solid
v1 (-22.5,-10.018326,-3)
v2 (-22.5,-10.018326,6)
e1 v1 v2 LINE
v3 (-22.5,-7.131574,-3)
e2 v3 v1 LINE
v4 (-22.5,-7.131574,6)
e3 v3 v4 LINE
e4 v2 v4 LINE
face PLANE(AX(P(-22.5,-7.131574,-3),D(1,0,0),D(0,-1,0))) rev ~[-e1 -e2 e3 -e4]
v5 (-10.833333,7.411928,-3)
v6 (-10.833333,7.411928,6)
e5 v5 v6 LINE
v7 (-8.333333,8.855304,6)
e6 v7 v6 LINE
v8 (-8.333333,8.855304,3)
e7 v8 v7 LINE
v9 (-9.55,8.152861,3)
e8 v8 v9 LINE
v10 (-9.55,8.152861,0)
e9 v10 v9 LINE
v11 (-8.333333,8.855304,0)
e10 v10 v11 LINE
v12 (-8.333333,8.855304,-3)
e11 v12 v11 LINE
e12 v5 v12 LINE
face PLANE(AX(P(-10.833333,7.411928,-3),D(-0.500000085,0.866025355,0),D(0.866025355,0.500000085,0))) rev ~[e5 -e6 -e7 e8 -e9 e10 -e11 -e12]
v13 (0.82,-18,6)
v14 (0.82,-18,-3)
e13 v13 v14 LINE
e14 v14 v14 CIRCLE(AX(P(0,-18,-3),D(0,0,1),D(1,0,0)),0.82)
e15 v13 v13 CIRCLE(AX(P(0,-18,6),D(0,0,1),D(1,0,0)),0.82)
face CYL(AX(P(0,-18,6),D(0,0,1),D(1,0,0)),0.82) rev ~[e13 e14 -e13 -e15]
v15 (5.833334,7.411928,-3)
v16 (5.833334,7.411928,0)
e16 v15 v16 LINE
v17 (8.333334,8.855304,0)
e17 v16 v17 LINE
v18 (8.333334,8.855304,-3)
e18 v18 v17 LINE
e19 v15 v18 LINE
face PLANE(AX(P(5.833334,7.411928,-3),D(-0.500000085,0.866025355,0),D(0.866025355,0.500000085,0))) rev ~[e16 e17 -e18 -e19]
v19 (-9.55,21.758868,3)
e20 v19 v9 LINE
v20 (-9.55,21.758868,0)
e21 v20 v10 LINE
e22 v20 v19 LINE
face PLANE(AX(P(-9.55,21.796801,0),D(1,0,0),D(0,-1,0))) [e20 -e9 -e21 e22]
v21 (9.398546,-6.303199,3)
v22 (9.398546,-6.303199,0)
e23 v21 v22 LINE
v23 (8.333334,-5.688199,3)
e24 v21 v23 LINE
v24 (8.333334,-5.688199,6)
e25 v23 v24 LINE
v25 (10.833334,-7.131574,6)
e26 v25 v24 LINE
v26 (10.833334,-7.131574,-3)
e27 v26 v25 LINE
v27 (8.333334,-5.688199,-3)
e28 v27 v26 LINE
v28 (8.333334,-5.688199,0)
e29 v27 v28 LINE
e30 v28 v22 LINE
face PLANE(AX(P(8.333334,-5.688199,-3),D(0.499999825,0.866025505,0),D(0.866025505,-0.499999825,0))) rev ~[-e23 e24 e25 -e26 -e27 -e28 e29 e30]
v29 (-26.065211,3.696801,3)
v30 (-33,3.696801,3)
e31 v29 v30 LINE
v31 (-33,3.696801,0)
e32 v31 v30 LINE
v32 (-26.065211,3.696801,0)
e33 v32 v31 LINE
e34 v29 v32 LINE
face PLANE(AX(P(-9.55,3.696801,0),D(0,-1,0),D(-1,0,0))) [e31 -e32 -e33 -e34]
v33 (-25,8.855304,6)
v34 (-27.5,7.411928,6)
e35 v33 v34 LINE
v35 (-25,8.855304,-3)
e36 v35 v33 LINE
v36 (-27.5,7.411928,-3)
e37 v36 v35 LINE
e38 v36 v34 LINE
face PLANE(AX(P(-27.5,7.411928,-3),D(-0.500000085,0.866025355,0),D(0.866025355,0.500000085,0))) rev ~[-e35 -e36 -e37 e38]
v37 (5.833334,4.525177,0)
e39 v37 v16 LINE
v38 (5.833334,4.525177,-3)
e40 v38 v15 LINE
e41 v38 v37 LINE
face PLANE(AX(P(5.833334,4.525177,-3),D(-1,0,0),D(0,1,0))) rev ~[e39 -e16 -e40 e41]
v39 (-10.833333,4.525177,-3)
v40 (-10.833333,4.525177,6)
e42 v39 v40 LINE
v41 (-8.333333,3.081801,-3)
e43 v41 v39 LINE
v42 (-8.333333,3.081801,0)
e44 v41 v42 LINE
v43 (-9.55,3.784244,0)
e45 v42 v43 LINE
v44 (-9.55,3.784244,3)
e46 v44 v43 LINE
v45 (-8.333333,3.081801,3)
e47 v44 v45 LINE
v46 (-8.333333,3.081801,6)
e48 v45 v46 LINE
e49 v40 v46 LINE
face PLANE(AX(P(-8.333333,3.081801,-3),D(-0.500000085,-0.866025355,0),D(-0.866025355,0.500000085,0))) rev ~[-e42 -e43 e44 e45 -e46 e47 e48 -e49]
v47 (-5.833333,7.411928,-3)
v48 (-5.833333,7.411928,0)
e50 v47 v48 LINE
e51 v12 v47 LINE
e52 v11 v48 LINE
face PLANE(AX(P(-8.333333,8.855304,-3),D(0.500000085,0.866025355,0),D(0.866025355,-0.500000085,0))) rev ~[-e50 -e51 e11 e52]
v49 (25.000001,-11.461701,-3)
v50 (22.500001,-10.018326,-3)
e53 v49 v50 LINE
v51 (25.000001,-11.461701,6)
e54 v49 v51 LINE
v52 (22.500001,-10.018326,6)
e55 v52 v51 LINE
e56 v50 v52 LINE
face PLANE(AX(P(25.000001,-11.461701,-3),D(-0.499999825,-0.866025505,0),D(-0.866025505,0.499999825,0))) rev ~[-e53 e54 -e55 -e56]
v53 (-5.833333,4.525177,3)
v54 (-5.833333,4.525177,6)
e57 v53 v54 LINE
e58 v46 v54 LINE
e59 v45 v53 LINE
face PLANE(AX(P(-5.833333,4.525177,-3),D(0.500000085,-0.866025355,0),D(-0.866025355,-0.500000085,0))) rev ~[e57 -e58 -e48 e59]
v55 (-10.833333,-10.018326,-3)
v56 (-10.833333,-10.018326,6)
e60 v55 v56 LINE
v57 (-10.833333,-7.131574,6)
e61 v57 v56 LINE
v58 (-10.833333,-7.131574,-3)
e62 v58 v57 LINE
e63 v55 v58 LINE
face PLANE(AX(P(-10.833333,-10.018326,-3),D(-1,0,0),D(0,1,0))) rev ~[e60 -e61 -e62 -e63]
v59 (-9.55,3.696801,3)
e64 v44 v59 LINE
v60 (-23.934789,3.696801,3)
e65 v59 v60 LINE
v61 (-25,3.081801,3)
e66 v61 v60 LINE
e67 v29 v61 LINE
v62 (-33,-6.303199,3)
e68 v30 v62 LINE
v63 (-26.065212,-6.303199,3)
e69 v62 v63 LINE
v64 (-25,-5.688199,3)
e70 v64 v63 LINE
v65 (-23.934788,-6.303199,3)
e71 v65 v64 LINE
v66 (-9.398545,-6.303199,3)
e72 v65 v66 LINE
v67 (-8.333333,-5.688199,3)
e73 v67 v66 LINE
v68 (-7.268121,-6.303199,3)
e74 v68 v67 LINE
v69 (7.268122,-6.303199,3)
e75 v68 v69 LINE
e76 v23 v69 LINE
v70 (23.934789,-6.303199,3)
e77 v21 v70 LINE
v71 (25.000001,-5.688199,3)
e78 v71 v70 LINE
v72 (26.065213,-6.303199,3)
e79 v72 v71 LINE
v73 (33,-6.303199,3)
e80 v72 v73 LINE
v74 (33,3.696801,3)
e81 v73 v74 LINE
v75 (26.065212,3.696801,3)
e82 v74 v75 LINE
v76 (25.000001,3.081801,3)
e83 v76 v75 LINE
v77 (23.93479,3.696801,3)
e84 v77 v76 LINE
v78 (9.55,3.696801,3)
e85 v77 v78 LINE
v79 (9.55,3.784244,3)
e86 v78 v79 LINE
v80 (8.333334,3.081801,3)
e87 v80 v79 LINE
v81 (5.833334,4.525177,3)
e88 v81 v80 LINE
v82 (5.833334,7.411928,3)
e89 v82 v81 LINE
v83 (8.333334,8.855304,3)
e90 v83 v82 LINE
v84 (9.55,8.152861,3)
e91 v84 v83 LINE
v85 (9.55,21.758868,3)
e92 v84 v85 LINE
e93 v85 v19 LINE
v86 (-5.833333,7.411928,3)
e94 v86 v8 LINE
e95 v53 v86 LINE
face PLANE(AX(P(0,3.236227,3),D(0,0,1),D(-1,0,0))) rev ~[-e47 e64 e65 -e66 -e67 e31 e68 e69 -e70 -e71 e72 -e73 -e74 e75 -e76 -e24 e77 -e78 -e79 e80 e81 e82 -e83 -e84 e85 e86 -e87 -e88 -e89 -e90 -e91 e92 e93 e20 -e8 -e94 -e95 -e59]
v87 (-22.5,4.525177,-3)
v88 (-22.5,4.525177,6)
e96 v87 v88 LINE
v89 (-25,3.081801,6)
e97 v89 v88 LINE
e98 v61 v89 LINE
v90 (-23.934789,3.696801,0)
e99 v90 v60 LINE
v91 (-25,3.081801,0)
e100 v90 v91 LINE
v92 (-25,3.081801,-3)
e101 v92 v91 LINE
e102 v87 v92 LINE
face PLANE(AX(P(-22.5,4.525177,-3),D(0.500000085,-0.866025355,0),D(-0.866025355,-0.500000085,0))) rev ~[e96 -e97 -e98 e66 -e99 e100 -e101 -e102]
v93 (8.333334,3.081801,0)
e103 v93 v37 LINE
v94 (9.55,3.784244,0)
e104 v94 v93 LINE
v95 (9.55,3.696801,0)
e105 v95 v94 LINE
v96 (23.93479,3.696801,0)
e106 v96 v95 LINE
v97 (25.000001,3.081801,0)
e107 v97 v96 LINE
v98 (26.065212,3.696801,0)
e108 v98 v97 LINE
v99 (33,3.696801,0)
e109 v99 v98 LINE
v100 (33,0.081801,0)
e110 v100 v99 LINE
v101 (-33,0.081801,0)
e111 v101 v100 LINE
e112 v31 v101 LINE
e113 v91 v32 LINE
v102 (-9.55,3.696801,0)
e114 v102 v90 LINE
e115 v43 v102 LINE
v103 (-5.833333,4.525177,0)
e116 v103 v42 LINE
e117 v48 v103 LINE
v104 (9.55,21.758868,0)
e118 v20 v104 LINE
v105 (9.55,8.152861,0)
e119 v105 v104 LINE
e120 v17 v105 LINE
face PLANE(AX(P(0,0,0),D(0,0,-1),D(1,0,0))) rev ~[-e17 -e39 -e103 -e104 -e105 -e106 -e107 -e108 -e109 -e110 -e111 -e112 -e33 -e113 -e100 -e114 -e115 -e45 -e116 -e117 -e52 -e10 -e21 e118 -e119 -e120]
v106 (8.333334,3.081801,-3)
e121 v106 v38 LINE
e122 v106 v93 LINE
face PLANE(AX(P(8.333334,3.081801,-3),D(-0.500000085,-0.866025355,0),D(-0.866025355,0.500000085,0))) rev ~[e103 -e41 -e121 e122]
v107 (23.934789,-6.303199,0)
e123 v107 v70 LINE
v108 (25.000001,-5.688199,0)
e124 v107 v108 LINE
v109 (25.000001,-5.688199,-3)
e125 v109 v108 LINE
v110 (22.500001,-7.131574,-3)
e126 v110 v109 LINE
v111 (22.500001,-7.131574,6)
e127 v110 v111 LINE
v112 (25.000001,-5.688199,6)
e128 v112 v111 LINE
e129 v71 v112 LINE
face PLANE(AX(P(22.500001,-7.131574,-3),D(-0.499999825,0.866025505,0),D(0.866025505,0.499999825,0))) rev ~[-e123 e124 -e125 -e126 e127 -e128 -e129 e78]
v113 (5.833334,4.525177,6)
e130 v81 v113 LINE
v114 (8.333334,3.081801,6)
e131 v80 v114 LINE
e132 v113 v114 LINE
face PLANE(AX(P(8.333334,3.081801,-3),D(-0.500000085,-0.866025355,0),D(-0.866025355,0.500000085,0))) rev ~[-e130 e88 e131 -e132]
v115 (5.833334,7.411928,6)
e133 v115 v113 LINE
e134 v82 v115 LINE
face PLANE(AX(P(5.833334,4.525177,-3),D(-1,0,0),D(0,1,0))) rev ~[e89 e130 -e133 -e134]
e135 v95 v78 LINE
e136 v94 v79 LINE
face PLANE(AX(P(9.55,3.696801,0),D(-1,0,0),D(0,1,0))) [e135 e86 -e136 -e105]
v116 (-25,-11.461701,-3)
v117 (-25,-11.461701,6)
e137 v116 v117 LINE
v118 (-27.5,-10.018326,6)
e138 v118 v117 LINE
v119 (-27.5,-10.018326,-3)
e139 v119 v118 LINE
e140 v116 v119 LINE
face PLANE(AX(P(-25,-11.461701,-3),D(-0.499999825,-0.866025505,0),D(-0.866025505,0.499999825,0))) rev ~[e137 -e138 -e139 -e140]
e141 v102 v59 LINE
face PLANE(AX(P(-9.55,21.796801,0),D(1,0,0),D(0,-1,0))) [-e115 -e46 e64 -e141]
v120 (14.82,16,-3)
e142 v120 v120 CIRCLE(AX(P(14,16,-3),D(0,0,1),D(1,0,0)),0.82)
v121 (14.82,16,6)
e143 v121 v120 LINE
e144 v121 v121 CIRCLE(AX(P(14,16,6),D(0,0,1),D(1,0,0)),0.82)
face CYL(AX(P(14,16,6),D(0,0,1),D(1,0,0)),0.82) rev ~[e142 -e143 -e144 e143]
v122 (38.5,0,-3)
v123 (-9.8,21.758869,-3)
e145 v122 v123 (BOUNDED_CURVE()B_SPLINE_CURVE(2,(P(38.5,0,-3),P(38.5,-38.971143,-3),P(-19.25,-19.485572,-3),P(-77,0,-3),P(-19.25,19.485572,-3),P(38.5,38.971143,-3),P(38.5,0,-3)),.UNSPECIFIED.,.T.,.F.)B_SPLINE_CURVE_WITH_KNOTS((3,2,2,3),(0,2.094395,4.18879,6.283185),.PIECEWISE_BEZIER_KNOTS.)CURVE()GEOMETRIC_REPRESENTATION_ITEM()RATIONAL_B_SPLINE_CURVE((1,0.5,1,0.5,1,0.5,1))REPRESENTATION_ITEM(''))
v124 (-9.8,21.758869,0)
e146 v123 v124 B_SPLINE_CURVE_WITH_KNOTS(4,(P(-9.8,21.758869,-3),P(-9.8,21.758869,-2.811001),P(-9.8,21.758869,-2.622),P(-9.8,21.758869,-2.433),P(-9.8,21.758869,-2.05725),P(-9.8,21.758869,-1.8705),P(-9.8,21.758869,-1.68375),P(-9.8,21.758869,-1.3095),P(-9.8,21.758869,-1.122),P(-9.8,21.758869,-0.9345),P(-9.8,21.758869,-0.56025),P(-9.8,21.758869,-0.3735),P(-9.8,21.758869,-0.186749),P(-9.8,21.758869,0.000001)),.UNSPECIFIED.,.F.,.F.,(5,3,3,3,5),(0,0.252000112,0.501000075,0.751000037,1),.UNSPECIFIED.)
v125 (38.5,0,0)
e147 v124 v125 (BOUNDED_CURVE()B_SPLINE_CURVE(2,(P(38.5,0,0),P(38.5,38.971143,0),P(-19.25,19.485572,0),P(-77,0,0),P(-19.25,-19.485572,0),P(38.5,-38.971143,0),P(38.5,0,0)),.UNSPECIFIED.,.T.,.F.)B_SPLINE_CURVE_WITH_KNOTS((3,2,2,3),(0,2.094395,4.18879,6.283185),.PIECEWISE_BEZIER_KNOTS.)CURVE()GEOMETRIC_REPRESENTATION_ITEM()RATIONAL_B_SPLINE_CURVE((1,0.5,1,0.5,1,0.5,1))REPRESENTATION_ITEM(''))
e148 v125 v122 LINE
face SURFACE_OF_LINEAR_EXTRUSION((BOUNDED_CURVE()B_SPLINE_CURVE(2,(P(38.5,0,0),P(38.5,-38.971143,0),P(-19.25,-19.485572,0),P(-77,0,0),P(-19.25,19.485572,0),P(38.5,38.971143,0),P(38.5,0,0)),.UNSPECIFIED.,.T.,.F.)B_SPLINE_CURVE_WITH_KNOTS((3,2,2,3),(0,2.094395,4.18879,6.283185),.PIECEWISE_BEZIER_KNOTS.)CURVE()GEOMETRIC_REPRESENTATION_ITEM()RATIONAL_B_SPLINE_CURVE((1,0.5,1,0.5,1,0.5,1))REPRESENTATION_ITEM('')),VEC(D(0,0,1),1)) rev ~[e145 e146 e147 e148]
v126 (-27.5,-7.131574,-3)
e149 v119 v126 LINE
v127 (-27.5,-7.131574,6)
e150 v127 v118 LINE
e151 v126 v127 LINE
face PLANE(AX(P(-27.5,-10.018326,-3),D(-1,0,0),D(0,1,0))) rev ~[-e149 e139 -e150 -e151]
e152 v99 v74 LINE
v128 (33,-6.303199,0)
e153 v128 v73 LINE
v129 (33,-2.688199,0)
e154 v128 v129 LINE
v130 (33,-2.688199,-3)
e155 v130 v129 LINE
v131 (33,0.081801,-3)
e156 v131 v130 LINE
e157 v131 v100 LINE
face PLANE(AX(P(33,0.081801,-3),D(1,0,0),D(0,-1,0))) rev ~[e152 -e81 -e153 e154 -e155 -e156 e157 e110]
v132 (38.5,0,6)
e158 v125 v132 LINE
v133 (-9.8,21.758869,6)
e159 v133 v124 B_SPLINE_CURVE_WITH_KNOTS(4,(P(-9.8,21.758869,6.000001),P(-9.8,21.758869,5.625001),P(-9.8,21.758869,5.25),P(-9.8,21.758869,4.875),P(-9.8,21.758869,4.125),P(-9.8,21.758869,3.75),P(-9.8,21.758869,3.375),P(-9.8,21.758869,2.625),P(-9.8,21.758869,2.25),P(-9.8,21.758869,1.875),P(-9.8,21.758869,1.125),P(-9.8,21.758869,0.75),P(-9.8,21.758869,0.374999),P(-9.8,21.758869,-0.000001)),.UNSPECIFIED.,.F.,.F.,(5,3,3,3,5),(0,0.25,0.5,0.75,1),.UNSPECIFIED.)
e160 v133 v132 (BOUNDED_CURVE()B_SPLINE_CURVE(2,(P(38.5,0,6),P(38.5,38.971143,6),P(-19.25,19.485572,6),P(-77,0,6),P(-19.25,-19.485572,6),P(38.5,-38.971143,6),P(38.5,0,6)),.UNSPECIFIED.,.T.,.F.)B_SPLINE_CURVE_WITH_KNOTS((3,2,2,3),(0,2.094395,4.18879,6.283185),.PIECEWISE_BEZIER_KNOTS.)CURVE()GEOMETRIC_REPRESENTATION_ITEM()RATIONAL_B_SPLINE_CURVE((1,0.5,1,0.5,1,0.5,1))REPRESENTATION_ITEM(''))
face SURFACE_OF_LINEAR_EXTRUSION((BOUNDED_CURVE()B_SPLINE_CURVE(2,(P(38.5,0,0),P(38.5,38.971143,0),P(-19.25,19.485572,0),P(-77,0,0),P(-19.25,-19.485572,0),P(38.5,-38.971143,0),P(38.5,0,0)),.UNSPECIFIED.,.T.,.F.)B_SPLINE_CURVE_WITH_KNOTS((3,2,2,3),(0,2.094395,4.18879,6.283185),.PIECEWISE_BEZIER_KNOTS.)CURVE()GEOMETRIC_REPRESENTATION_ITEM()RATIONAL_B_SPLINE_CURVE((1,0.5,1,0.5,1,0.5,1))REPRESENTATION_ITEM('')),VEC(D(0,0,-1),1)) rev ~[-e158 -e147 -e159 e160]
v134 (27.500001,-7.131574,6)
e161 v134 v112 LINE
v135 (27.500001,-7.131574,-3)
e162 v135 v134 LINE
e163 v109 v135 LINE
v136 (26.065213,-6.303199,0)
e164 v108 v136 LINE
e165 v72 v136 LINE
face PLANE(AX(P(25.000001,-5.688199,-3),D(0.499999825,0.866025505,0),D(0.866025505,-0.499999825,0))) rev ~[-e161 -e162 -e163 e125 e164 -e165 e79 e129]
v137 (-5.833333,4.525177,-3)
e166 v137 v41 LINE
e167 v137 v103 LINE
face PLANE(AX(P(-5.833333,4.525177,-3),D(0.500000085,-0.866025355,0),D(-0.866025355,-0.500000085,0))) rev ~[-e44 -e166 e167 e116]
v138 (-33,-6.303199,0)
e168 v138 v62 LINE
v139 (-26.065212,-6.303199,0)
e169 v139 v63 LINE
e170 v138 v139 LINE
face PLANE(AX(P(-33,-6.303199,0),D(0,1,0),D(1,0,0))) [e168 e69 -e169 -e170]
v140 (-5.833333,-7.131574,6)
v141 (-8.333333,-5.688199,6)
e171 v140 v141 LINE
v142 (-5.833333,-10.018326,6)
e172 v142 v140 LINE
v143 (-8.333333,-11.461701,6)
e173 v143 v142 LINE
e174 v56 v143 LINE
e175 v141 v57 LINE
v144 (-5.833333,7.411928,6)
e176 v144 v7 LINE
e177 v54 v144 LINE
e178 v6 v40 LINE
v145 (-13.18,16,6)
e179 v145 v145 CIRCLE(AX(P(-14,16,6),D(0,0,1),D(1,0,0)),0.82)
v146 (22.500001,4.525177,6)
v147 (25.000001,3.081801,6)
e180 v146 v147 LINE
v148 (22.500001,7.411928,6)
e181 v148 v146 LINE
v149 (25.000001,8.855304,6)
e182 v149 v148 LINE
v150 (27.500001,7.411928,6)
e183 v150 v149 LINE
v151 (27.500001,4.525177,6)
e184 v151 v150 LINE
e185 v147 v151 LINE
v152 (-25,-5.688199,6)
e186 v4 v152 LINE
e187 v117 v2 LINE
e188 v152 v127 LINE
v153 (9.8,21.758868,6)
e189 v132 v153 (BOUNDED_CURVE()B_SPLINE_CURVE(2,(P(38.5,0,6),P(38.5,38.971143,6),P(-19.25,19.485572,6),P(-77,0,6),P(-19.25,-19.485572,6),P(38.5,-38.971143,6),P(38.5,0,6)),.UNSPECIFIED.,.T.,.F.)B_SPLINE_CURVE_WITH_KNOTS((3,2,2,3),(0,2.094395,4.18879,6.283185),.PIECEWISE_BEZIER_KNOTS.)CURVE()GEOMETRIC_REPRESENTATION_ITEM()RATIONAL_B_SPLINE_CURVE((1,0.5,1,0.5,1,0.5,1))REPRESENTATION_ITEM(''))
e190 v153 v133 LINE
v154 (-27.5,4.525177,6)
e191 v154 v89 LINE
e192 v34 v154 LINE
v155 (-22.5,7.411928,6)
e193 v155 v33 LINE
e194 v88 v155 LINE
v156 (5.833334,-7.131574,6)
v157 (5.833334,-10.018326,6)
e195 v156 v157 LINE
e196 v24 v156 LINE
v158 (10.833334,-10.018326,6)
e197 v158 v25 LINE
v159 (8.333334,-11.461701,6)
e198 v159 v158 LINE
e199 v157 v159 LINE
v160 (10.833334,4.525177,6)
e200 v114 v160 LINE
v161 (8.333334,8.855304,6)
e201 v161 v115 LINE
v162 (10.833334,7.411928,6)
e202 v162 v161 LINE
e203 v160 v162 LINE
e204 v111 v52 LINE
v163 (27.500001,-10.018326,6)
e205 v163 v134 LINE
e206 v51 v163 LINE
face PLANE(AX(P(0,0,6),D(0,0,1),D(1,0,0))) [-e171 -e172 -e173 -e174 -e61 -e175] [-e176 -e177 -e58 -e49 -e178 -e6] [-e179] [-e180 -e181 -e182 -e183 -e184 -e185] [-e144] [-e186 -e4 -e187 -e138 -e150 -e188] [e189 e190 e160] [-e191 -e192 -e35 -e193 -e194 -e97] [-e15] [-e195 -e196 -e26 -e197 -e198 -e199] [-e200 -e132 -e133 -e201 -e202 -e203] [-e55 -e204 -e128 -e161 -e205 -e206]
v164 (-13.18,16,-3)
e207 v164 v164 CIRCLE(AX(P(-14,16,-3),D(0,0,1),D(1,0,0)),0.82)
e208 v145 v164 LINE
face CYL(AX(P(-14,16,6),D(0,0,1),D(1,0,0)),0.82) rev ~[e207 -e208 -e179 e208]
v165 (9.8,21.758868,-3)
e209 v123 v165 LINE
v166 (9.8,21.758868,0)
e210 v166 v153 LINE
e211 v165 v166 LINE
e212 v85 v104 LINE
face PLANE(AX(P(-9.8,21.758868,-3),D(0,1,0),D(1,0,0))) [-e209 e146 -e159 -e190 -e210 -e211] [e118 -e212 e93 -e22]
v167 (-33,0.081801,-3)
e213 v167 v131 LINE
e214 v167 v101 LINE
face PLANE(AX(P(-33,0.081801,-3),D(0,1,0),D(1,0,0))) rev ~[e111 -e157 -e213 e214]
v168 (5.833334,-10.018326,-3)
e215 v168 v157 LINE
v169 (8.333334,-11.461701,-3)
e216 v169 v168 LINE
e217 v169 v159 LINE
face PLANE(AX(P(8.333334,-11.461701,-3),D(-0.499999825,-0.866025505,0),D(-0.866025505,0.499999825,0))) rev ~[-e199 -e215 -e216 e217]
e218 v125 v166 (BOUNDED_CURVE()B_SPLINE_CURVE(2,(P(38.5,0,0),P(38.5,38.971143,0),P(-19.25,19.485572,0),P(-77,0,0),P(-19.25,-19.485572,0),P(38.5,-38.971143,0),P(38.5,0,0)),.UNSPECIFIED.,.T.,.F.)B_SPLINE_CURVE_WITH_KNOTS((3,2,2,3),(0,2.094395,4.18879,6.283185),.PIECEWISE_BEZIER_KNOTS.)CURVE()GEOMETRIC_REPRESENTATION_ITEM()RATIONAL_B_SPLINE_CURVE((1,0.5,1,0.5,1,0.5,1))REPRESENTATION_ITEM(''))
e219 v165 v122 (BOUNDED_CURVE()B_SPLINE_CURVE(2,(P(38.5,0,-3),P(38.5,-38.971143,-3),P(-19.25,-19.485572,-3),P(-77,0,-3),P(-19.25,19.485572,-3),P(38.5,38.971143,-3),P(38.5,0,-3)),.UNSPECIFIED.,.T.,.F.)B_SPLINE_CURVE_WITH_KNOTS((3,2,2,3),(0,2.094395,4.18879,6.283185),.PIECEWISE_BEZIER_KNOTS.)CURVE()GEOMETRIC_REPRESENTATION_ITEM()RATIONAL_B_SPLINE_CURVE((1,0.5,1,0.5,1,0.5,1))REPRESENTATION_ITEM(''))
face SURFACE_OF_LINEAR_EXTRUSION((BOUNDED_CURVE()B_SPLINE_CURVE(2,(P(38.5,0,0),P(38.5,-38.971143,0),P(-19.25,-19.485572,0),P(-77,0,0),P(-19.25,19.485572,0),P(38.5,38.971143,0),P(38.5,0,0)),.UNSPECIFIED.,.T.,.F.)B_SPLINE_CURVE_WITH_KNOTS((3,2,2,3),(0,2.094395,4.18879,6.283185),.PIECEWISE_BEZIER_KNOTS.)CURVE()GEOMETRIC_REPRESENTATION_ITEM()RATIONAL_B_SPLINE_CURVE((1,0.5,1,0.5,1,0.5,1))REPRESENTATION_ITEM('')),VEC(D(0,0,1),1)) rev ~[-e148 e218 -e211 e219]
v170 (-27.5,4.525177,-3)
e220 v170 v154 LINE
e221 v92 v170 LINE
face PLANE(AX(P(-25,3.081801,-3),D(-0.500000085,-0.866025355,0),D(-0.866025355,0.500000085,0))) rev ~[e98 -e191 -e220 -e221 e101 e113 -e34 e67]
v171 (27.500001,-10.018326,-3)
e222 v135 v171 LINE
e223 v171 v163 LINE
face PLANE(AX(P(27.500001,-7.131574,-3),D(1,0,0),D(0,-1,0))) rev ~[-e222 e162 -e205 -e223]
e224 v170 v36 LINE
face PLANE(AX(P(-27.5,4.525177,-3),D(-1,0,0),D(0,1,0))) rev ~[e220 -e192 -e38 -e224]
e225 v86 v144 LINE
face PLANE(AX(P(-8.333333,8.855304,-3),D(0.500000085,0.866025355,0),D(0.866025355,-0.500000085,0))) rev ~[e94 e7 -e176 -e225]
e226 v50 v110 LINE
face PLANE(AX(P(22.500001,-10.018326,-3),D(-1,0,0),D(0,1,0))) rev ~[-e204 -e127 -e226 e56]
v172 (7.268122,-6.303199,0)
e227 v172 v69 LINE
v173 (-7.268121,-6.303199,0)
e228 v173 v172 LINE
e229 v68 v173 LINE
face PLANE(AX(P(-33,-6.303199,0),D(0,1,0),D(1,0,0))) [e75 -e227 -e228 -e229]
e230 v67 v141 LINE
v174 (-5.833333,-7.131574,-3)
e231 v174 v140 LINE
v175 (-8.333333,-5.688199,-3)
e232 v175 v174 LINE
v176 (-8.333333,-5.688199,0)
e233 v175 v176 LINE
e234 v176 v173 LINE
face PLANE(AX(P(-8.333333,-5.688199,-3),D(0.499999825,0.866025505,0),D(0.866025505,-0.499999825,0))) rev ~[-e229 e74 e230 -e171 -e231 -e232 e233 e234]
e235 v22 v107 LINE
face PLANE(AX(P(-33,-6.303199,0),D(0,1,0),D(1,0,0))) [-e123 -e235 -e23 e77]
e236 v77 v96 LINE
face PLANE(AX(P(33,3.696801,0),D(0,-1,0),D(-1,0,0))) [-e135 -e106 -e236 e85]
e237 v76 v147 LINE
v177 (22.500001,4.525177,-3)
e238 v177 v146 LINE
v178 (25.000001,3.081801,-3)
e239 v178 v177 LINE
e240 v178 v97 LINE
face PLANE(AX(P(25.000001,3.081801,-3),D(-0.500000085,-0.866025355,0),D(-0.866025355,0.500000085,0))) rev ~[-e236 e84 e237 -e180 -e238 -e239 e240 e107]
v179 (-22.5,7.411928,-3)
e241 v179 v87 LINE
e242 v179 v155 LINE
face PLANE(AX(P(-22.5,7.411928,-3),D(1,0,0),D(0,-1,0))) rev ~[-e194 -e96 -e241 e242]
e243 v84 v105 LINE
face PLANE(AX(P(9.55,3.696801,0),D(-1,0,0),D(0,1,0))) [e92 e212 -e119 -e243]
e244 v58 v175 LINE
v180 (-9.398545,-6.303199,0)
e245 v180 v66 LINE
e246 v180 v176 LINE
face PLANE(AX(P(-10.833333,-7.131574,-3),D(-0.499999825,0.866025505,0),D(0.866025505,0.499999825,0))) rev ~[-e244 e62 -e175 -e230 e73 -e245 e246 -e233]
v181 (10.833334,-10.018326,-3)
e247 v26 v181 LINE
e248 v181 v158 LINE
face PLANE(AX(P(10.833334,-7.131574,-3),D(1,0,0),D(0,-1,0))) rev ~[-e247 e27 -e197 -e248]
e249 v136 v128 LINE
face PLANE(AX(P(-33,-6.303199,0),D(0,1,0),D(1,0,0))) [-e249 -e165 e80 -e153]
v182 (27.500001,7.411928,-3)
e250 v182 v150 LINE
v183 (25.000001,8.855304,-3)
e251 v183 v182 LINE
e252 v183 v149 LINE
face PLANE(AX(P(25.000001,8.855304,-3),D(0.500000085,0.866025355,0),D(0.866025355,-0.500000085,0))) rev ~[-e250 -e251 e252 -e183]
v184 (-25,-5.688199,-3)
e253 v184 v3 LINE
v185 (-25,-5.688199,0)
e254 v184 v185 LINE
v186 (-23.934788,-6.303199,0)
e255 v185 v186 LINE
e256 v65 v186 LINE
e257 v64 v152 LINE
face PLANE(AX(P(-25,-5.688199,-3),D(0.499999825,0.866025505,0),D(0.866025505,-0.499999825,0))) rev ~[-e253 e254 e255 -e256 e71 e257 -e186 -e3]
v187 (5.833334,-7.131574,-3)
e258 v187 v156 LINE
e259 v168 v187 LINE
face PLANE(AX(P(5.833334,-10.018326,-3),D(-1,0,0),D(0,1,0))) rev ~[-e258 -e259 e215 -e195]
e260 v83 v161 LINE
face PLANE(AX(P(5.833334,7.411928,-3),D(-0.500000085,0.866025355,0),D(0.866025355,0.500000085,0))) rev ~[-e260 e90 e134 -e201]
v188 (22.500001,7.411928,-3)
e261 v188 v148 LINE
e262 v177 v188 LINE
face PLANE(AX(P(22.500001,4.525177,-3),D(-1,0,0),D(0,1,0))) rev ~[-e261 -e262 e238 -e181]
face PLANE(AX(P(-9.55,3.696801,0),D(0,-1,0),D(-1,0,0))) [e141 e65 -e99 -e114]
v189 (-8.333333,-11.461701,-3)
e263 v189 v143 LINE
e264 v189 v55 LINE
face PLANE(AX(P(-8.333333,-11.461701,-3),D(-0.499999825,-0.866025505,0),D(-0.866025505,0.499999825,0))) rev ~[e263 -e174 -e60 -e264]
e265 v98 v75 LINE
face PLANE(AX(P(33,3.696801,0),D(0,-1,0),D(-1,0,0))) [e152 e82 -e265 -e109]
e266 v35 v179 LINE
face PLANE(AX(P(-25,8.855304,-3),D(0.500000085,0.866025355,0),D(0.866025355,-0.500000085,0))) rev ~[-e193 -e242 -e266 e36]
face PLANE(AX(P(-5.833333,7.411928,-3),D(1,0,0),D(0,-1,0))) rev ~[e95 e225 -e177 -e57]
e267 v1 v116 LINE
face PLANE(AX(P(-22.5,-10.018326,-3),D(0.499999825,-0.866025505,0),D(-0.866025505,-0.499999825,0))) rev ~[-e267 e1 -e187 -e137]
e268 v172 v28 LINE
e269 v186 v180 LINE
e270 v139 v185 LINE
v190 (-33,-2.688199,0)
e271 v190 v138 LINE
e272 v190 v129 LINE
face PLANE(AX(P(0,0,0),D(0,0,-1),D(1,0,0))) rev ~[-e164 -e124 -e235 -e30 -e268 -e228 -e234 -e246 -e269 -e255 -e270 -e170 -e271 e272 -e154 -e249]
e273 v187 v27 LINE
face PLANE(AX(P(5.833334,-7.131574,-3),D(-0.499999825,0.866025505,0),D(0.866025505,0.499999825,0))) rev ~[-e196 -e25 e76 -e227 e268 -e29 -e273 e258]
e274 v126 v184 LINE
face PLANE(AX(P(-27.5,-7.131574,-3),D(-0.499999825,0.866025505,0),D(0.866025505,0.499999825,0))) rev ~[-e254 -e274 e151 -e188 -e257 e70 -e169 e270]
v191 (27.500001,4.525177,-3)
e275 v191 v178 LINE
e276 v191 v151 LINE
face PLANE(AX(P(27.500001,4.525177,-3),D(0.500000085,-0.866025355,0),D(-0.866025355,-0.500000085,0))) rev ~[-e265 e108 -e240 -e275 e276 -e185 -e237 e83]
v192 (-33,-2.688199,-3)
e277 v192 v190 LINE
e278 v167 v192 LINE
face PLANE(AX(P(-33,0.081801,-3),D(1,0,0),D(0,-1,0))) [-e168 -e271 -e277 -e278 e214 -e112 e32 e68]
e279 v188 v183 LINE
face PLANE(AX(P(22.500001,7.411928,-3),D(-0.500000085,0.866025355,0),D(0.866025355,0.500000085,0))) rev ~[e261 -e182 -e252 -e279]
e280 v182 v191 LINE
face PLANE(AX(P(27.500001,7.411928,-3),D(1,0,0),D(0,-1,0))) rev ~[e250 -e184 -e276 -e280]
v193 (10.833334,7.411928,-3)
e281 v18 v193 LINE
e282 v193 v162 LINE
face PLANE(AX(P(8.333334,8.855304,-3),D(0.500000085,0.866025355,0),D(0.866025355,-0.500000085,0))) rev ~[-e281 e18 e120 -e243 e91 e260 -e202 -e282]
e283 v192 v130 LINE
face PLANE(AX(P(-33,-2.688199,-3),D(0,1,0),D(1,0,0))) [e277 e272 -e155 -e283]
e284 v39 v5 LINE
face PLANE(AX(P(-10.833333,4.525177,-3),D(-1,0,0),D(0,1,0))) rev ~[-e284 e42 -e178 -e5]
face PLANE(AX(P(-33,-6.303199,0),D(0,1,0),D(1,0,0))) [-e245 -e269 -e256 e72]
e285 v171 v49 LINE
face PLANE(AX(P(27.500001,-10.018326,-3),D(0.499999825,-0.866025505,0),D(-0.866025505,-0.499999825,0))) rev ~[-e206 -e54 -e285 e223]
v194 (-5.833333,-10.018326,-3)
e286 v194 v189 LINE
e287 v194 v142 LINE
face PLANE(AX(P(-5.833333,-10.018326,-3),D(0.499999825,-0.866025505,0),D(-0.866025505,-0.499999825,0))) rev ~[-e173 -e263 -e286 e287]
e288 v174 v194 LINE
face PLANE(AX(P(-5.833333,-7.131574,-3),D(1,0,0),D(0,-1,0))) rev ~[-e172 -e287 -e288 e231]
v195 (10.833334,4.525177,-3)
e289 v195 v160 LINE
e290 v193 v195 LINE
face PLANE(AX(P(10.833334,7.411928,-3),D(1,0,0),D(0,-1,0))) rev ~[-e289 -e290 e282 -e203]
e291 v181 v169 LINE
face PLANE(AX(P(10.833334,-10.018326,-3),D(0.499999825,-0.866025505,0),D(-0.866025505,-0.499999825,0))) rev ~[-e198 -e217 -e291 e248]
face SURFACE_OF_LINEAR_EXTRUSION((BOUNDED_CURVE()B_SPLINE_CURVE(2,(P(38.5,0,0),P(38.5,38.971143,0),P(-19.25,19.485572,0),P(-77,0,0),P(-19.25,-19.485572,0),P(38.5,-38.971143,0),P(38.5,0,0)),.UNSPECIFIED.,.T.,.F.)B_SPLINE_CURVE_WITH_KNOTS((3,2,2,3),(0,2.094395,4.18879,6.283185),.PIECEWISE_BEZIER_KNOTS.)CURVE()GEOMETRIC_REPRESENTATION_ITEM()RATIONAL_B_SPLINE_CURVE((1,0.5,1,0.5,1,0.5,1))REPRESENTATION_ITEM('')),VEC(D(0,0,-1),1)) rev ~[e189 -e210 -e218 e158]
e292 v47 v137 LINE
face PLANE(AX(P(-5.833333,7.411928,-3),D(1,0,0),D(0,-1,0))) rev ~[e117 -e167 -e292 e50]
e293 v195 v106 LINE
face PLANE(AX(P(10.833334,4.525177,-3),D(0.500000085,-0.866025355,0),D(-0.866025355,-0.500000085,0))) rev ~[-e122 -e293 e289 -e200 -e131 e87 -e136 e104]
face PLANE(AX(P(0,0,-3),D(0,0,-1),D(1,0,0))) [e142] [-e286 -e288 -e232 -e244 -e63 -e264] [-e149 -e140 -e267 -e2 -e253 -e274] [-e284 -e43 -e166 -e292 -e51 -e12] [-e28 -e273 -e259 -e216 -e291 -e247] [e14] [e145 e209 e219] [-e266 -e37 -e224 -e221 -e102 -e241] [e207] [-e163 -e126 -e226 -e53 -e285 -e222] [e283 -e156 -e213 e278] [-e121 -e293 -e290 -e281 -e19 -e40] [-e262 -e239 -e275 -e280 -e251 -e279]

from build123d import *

# Parameters (mm, degrees)
PAD_DEPTH           = 6
POCKET_DEPTH        = 3
PAD001_DEPTH        = 3
SKETCH003_W         = 66
SKETCH003_H         = 2.77
POCKET001_DEPTH     = 3
SKETCH004_W         = 19.6
SKETCH004_H         = 1
POCKET002_DEPTH     = 9.001
SKETCH005_R         = 0.82
POCKET003_DEPTH     = 9.001
POCKET004_DEPTH     = 9.001
LINEARPATTERN_COUNT = 4
LINEARPATTERN_PITCH = 16.666667


with BuildPart() as part:
    # Sketch → Pad (new body)
    with BuildSketch(Plane.XY):
        with BuildLine():
            add(Edge.make_bspline(
                [(38.5, 0), (38.5, 38.971143), (-19.25, 19.485572), (-77, 0), (-19.25, -19.485572), (38.5, -38.971143), (38.5, 0)],
                knots=[0, 0, 0, 2.094395, 2.094395, 4.18879, 4.18879, 6.283185, 6.283185, 6.283185], degree=2, weights=[1, 0.5, 1, 0.5, 1, 0.5, 1]))
        make_face()
    extrude(amount=PAD_DEPTH)

    # Sketch001 (on Face2 of Pad) → Pocket (cut)
    with BuildSketch(Plane(origin=(0, 0, 0), x_dir=(1, 0, 0), z_dir=(0, 0, -1))):
        Polygon((9.55, -3.696801), (9.55, -21.796801), (-9.55, -21.796801), (-9.55, -3.696801), (-33, -3.696801), (-33, 6.303199), (33, 6.303199), (33, -3.696801), align=None)
    extrude(amount=-POCKET_DEPTH, mode=Mode.SUBTRACT)

    # Sketch002 (on Face2 of Pocket) → Pad001 (join)
    with BuildSketch(Plane(origin=(0, 0, 0), x_dir=(1, 0, 0), z_dir=(0, 0, -1))):
        with BuildLine():
            add(Edge.make_bspline(
                [(38.5, 0), (38.5, 38.971143), (-19.25, 19.485572), (-77, 0), (-19.25, -19.485572), (38.5, -38.971143), (38.5, 0)],
                knots=[0, 0, 0, 2.094395, 2.094395, 4.18879, 4.18879, 6.283185, 6.283185, 6.283185], degree=2, weights=[1, 0.5, 1, 0.5, 1, 0.5, 1]))
        make_face()
    extrude(amount=PAD001_DEPTH)

    # Sketch003 (on Face4 of Pad001) → Pocket001 (cut)
    with BuildSketch(Plane(origin=(0, 0, -3), x_dir=(1, 0, 0), z_dir=(0, 0, -1))):
        with Locations((0, 1.303199)):
            Rectangle(SKETCH003_W, SKETCH003_H)
    extrude(amount=-POCKET001_DEPTH, mode=Mode.SUBTRACT)

    # Sketch004 (on Face4 of Pocket001) → Pocket002 (cut, through all)
    with BuildSketch(Plane(origin=(0, 0, -3), x_dir=(1, 0, 0), z_dir=(0, 0, -1))):
        with Locations((0, -22.258868)):
            Rectangle(SKETCH004_W, SKETCH004_H)
    extrude(amount=-POCKET002_DEPTH, mode=Mode.SUBTRACT)

    # Sketch005 (on Face4 of Pocket002) → Pocket003 (cut, through all)
    with BuildSketch(Plane.XY.offset(6)):
        with Locations((-14, 16)):
            Circle(SKETCH005_R)
        with Locations((14, 16)):
            Circle(SKETCH005_R)
        with Locations((0, -18)):
            Circle(SKETCH005_R)
    extrude(amount=-POCKET003_DEPTH, mode=Mode.SUBTRACT)

    # Sketch006 (on Face7 of Pocket003) → Pocket004 (cut, through all)
    with BuildSketch(Plane(origin=(0, 0, -3), x_dir=(1, 0, 0), z_dir=(0, 0, -1))):
        Polygon((-22.5, -7.411928), (-22.5, -4.525177), (-25, -3.081801), (-27.5, -4.525177), (-27.5, -7.411928), (-25, -8.855304), align=None)
        Polygon((-22.5, 7.131574), (-22.5, 10.018326), (-25, 11.461701), (-27.5, 10.018326), (-27.5, 7.131574), (-25, 5.688199), align=None)
    pocket004 = extrude(amount=-POCKET004_DEPTH, mode=Mode.SUBTRACT)

    # LinearPattern: Pocket004 ×4
    with Locations(*[(i * LINEARPATTERN_PITCH, 0, 0) for i in range(1, LINEARPATTERN_COUNT)]):
        add(pocket004, mode=Mode.SUBTRACT)


solid = part.part
